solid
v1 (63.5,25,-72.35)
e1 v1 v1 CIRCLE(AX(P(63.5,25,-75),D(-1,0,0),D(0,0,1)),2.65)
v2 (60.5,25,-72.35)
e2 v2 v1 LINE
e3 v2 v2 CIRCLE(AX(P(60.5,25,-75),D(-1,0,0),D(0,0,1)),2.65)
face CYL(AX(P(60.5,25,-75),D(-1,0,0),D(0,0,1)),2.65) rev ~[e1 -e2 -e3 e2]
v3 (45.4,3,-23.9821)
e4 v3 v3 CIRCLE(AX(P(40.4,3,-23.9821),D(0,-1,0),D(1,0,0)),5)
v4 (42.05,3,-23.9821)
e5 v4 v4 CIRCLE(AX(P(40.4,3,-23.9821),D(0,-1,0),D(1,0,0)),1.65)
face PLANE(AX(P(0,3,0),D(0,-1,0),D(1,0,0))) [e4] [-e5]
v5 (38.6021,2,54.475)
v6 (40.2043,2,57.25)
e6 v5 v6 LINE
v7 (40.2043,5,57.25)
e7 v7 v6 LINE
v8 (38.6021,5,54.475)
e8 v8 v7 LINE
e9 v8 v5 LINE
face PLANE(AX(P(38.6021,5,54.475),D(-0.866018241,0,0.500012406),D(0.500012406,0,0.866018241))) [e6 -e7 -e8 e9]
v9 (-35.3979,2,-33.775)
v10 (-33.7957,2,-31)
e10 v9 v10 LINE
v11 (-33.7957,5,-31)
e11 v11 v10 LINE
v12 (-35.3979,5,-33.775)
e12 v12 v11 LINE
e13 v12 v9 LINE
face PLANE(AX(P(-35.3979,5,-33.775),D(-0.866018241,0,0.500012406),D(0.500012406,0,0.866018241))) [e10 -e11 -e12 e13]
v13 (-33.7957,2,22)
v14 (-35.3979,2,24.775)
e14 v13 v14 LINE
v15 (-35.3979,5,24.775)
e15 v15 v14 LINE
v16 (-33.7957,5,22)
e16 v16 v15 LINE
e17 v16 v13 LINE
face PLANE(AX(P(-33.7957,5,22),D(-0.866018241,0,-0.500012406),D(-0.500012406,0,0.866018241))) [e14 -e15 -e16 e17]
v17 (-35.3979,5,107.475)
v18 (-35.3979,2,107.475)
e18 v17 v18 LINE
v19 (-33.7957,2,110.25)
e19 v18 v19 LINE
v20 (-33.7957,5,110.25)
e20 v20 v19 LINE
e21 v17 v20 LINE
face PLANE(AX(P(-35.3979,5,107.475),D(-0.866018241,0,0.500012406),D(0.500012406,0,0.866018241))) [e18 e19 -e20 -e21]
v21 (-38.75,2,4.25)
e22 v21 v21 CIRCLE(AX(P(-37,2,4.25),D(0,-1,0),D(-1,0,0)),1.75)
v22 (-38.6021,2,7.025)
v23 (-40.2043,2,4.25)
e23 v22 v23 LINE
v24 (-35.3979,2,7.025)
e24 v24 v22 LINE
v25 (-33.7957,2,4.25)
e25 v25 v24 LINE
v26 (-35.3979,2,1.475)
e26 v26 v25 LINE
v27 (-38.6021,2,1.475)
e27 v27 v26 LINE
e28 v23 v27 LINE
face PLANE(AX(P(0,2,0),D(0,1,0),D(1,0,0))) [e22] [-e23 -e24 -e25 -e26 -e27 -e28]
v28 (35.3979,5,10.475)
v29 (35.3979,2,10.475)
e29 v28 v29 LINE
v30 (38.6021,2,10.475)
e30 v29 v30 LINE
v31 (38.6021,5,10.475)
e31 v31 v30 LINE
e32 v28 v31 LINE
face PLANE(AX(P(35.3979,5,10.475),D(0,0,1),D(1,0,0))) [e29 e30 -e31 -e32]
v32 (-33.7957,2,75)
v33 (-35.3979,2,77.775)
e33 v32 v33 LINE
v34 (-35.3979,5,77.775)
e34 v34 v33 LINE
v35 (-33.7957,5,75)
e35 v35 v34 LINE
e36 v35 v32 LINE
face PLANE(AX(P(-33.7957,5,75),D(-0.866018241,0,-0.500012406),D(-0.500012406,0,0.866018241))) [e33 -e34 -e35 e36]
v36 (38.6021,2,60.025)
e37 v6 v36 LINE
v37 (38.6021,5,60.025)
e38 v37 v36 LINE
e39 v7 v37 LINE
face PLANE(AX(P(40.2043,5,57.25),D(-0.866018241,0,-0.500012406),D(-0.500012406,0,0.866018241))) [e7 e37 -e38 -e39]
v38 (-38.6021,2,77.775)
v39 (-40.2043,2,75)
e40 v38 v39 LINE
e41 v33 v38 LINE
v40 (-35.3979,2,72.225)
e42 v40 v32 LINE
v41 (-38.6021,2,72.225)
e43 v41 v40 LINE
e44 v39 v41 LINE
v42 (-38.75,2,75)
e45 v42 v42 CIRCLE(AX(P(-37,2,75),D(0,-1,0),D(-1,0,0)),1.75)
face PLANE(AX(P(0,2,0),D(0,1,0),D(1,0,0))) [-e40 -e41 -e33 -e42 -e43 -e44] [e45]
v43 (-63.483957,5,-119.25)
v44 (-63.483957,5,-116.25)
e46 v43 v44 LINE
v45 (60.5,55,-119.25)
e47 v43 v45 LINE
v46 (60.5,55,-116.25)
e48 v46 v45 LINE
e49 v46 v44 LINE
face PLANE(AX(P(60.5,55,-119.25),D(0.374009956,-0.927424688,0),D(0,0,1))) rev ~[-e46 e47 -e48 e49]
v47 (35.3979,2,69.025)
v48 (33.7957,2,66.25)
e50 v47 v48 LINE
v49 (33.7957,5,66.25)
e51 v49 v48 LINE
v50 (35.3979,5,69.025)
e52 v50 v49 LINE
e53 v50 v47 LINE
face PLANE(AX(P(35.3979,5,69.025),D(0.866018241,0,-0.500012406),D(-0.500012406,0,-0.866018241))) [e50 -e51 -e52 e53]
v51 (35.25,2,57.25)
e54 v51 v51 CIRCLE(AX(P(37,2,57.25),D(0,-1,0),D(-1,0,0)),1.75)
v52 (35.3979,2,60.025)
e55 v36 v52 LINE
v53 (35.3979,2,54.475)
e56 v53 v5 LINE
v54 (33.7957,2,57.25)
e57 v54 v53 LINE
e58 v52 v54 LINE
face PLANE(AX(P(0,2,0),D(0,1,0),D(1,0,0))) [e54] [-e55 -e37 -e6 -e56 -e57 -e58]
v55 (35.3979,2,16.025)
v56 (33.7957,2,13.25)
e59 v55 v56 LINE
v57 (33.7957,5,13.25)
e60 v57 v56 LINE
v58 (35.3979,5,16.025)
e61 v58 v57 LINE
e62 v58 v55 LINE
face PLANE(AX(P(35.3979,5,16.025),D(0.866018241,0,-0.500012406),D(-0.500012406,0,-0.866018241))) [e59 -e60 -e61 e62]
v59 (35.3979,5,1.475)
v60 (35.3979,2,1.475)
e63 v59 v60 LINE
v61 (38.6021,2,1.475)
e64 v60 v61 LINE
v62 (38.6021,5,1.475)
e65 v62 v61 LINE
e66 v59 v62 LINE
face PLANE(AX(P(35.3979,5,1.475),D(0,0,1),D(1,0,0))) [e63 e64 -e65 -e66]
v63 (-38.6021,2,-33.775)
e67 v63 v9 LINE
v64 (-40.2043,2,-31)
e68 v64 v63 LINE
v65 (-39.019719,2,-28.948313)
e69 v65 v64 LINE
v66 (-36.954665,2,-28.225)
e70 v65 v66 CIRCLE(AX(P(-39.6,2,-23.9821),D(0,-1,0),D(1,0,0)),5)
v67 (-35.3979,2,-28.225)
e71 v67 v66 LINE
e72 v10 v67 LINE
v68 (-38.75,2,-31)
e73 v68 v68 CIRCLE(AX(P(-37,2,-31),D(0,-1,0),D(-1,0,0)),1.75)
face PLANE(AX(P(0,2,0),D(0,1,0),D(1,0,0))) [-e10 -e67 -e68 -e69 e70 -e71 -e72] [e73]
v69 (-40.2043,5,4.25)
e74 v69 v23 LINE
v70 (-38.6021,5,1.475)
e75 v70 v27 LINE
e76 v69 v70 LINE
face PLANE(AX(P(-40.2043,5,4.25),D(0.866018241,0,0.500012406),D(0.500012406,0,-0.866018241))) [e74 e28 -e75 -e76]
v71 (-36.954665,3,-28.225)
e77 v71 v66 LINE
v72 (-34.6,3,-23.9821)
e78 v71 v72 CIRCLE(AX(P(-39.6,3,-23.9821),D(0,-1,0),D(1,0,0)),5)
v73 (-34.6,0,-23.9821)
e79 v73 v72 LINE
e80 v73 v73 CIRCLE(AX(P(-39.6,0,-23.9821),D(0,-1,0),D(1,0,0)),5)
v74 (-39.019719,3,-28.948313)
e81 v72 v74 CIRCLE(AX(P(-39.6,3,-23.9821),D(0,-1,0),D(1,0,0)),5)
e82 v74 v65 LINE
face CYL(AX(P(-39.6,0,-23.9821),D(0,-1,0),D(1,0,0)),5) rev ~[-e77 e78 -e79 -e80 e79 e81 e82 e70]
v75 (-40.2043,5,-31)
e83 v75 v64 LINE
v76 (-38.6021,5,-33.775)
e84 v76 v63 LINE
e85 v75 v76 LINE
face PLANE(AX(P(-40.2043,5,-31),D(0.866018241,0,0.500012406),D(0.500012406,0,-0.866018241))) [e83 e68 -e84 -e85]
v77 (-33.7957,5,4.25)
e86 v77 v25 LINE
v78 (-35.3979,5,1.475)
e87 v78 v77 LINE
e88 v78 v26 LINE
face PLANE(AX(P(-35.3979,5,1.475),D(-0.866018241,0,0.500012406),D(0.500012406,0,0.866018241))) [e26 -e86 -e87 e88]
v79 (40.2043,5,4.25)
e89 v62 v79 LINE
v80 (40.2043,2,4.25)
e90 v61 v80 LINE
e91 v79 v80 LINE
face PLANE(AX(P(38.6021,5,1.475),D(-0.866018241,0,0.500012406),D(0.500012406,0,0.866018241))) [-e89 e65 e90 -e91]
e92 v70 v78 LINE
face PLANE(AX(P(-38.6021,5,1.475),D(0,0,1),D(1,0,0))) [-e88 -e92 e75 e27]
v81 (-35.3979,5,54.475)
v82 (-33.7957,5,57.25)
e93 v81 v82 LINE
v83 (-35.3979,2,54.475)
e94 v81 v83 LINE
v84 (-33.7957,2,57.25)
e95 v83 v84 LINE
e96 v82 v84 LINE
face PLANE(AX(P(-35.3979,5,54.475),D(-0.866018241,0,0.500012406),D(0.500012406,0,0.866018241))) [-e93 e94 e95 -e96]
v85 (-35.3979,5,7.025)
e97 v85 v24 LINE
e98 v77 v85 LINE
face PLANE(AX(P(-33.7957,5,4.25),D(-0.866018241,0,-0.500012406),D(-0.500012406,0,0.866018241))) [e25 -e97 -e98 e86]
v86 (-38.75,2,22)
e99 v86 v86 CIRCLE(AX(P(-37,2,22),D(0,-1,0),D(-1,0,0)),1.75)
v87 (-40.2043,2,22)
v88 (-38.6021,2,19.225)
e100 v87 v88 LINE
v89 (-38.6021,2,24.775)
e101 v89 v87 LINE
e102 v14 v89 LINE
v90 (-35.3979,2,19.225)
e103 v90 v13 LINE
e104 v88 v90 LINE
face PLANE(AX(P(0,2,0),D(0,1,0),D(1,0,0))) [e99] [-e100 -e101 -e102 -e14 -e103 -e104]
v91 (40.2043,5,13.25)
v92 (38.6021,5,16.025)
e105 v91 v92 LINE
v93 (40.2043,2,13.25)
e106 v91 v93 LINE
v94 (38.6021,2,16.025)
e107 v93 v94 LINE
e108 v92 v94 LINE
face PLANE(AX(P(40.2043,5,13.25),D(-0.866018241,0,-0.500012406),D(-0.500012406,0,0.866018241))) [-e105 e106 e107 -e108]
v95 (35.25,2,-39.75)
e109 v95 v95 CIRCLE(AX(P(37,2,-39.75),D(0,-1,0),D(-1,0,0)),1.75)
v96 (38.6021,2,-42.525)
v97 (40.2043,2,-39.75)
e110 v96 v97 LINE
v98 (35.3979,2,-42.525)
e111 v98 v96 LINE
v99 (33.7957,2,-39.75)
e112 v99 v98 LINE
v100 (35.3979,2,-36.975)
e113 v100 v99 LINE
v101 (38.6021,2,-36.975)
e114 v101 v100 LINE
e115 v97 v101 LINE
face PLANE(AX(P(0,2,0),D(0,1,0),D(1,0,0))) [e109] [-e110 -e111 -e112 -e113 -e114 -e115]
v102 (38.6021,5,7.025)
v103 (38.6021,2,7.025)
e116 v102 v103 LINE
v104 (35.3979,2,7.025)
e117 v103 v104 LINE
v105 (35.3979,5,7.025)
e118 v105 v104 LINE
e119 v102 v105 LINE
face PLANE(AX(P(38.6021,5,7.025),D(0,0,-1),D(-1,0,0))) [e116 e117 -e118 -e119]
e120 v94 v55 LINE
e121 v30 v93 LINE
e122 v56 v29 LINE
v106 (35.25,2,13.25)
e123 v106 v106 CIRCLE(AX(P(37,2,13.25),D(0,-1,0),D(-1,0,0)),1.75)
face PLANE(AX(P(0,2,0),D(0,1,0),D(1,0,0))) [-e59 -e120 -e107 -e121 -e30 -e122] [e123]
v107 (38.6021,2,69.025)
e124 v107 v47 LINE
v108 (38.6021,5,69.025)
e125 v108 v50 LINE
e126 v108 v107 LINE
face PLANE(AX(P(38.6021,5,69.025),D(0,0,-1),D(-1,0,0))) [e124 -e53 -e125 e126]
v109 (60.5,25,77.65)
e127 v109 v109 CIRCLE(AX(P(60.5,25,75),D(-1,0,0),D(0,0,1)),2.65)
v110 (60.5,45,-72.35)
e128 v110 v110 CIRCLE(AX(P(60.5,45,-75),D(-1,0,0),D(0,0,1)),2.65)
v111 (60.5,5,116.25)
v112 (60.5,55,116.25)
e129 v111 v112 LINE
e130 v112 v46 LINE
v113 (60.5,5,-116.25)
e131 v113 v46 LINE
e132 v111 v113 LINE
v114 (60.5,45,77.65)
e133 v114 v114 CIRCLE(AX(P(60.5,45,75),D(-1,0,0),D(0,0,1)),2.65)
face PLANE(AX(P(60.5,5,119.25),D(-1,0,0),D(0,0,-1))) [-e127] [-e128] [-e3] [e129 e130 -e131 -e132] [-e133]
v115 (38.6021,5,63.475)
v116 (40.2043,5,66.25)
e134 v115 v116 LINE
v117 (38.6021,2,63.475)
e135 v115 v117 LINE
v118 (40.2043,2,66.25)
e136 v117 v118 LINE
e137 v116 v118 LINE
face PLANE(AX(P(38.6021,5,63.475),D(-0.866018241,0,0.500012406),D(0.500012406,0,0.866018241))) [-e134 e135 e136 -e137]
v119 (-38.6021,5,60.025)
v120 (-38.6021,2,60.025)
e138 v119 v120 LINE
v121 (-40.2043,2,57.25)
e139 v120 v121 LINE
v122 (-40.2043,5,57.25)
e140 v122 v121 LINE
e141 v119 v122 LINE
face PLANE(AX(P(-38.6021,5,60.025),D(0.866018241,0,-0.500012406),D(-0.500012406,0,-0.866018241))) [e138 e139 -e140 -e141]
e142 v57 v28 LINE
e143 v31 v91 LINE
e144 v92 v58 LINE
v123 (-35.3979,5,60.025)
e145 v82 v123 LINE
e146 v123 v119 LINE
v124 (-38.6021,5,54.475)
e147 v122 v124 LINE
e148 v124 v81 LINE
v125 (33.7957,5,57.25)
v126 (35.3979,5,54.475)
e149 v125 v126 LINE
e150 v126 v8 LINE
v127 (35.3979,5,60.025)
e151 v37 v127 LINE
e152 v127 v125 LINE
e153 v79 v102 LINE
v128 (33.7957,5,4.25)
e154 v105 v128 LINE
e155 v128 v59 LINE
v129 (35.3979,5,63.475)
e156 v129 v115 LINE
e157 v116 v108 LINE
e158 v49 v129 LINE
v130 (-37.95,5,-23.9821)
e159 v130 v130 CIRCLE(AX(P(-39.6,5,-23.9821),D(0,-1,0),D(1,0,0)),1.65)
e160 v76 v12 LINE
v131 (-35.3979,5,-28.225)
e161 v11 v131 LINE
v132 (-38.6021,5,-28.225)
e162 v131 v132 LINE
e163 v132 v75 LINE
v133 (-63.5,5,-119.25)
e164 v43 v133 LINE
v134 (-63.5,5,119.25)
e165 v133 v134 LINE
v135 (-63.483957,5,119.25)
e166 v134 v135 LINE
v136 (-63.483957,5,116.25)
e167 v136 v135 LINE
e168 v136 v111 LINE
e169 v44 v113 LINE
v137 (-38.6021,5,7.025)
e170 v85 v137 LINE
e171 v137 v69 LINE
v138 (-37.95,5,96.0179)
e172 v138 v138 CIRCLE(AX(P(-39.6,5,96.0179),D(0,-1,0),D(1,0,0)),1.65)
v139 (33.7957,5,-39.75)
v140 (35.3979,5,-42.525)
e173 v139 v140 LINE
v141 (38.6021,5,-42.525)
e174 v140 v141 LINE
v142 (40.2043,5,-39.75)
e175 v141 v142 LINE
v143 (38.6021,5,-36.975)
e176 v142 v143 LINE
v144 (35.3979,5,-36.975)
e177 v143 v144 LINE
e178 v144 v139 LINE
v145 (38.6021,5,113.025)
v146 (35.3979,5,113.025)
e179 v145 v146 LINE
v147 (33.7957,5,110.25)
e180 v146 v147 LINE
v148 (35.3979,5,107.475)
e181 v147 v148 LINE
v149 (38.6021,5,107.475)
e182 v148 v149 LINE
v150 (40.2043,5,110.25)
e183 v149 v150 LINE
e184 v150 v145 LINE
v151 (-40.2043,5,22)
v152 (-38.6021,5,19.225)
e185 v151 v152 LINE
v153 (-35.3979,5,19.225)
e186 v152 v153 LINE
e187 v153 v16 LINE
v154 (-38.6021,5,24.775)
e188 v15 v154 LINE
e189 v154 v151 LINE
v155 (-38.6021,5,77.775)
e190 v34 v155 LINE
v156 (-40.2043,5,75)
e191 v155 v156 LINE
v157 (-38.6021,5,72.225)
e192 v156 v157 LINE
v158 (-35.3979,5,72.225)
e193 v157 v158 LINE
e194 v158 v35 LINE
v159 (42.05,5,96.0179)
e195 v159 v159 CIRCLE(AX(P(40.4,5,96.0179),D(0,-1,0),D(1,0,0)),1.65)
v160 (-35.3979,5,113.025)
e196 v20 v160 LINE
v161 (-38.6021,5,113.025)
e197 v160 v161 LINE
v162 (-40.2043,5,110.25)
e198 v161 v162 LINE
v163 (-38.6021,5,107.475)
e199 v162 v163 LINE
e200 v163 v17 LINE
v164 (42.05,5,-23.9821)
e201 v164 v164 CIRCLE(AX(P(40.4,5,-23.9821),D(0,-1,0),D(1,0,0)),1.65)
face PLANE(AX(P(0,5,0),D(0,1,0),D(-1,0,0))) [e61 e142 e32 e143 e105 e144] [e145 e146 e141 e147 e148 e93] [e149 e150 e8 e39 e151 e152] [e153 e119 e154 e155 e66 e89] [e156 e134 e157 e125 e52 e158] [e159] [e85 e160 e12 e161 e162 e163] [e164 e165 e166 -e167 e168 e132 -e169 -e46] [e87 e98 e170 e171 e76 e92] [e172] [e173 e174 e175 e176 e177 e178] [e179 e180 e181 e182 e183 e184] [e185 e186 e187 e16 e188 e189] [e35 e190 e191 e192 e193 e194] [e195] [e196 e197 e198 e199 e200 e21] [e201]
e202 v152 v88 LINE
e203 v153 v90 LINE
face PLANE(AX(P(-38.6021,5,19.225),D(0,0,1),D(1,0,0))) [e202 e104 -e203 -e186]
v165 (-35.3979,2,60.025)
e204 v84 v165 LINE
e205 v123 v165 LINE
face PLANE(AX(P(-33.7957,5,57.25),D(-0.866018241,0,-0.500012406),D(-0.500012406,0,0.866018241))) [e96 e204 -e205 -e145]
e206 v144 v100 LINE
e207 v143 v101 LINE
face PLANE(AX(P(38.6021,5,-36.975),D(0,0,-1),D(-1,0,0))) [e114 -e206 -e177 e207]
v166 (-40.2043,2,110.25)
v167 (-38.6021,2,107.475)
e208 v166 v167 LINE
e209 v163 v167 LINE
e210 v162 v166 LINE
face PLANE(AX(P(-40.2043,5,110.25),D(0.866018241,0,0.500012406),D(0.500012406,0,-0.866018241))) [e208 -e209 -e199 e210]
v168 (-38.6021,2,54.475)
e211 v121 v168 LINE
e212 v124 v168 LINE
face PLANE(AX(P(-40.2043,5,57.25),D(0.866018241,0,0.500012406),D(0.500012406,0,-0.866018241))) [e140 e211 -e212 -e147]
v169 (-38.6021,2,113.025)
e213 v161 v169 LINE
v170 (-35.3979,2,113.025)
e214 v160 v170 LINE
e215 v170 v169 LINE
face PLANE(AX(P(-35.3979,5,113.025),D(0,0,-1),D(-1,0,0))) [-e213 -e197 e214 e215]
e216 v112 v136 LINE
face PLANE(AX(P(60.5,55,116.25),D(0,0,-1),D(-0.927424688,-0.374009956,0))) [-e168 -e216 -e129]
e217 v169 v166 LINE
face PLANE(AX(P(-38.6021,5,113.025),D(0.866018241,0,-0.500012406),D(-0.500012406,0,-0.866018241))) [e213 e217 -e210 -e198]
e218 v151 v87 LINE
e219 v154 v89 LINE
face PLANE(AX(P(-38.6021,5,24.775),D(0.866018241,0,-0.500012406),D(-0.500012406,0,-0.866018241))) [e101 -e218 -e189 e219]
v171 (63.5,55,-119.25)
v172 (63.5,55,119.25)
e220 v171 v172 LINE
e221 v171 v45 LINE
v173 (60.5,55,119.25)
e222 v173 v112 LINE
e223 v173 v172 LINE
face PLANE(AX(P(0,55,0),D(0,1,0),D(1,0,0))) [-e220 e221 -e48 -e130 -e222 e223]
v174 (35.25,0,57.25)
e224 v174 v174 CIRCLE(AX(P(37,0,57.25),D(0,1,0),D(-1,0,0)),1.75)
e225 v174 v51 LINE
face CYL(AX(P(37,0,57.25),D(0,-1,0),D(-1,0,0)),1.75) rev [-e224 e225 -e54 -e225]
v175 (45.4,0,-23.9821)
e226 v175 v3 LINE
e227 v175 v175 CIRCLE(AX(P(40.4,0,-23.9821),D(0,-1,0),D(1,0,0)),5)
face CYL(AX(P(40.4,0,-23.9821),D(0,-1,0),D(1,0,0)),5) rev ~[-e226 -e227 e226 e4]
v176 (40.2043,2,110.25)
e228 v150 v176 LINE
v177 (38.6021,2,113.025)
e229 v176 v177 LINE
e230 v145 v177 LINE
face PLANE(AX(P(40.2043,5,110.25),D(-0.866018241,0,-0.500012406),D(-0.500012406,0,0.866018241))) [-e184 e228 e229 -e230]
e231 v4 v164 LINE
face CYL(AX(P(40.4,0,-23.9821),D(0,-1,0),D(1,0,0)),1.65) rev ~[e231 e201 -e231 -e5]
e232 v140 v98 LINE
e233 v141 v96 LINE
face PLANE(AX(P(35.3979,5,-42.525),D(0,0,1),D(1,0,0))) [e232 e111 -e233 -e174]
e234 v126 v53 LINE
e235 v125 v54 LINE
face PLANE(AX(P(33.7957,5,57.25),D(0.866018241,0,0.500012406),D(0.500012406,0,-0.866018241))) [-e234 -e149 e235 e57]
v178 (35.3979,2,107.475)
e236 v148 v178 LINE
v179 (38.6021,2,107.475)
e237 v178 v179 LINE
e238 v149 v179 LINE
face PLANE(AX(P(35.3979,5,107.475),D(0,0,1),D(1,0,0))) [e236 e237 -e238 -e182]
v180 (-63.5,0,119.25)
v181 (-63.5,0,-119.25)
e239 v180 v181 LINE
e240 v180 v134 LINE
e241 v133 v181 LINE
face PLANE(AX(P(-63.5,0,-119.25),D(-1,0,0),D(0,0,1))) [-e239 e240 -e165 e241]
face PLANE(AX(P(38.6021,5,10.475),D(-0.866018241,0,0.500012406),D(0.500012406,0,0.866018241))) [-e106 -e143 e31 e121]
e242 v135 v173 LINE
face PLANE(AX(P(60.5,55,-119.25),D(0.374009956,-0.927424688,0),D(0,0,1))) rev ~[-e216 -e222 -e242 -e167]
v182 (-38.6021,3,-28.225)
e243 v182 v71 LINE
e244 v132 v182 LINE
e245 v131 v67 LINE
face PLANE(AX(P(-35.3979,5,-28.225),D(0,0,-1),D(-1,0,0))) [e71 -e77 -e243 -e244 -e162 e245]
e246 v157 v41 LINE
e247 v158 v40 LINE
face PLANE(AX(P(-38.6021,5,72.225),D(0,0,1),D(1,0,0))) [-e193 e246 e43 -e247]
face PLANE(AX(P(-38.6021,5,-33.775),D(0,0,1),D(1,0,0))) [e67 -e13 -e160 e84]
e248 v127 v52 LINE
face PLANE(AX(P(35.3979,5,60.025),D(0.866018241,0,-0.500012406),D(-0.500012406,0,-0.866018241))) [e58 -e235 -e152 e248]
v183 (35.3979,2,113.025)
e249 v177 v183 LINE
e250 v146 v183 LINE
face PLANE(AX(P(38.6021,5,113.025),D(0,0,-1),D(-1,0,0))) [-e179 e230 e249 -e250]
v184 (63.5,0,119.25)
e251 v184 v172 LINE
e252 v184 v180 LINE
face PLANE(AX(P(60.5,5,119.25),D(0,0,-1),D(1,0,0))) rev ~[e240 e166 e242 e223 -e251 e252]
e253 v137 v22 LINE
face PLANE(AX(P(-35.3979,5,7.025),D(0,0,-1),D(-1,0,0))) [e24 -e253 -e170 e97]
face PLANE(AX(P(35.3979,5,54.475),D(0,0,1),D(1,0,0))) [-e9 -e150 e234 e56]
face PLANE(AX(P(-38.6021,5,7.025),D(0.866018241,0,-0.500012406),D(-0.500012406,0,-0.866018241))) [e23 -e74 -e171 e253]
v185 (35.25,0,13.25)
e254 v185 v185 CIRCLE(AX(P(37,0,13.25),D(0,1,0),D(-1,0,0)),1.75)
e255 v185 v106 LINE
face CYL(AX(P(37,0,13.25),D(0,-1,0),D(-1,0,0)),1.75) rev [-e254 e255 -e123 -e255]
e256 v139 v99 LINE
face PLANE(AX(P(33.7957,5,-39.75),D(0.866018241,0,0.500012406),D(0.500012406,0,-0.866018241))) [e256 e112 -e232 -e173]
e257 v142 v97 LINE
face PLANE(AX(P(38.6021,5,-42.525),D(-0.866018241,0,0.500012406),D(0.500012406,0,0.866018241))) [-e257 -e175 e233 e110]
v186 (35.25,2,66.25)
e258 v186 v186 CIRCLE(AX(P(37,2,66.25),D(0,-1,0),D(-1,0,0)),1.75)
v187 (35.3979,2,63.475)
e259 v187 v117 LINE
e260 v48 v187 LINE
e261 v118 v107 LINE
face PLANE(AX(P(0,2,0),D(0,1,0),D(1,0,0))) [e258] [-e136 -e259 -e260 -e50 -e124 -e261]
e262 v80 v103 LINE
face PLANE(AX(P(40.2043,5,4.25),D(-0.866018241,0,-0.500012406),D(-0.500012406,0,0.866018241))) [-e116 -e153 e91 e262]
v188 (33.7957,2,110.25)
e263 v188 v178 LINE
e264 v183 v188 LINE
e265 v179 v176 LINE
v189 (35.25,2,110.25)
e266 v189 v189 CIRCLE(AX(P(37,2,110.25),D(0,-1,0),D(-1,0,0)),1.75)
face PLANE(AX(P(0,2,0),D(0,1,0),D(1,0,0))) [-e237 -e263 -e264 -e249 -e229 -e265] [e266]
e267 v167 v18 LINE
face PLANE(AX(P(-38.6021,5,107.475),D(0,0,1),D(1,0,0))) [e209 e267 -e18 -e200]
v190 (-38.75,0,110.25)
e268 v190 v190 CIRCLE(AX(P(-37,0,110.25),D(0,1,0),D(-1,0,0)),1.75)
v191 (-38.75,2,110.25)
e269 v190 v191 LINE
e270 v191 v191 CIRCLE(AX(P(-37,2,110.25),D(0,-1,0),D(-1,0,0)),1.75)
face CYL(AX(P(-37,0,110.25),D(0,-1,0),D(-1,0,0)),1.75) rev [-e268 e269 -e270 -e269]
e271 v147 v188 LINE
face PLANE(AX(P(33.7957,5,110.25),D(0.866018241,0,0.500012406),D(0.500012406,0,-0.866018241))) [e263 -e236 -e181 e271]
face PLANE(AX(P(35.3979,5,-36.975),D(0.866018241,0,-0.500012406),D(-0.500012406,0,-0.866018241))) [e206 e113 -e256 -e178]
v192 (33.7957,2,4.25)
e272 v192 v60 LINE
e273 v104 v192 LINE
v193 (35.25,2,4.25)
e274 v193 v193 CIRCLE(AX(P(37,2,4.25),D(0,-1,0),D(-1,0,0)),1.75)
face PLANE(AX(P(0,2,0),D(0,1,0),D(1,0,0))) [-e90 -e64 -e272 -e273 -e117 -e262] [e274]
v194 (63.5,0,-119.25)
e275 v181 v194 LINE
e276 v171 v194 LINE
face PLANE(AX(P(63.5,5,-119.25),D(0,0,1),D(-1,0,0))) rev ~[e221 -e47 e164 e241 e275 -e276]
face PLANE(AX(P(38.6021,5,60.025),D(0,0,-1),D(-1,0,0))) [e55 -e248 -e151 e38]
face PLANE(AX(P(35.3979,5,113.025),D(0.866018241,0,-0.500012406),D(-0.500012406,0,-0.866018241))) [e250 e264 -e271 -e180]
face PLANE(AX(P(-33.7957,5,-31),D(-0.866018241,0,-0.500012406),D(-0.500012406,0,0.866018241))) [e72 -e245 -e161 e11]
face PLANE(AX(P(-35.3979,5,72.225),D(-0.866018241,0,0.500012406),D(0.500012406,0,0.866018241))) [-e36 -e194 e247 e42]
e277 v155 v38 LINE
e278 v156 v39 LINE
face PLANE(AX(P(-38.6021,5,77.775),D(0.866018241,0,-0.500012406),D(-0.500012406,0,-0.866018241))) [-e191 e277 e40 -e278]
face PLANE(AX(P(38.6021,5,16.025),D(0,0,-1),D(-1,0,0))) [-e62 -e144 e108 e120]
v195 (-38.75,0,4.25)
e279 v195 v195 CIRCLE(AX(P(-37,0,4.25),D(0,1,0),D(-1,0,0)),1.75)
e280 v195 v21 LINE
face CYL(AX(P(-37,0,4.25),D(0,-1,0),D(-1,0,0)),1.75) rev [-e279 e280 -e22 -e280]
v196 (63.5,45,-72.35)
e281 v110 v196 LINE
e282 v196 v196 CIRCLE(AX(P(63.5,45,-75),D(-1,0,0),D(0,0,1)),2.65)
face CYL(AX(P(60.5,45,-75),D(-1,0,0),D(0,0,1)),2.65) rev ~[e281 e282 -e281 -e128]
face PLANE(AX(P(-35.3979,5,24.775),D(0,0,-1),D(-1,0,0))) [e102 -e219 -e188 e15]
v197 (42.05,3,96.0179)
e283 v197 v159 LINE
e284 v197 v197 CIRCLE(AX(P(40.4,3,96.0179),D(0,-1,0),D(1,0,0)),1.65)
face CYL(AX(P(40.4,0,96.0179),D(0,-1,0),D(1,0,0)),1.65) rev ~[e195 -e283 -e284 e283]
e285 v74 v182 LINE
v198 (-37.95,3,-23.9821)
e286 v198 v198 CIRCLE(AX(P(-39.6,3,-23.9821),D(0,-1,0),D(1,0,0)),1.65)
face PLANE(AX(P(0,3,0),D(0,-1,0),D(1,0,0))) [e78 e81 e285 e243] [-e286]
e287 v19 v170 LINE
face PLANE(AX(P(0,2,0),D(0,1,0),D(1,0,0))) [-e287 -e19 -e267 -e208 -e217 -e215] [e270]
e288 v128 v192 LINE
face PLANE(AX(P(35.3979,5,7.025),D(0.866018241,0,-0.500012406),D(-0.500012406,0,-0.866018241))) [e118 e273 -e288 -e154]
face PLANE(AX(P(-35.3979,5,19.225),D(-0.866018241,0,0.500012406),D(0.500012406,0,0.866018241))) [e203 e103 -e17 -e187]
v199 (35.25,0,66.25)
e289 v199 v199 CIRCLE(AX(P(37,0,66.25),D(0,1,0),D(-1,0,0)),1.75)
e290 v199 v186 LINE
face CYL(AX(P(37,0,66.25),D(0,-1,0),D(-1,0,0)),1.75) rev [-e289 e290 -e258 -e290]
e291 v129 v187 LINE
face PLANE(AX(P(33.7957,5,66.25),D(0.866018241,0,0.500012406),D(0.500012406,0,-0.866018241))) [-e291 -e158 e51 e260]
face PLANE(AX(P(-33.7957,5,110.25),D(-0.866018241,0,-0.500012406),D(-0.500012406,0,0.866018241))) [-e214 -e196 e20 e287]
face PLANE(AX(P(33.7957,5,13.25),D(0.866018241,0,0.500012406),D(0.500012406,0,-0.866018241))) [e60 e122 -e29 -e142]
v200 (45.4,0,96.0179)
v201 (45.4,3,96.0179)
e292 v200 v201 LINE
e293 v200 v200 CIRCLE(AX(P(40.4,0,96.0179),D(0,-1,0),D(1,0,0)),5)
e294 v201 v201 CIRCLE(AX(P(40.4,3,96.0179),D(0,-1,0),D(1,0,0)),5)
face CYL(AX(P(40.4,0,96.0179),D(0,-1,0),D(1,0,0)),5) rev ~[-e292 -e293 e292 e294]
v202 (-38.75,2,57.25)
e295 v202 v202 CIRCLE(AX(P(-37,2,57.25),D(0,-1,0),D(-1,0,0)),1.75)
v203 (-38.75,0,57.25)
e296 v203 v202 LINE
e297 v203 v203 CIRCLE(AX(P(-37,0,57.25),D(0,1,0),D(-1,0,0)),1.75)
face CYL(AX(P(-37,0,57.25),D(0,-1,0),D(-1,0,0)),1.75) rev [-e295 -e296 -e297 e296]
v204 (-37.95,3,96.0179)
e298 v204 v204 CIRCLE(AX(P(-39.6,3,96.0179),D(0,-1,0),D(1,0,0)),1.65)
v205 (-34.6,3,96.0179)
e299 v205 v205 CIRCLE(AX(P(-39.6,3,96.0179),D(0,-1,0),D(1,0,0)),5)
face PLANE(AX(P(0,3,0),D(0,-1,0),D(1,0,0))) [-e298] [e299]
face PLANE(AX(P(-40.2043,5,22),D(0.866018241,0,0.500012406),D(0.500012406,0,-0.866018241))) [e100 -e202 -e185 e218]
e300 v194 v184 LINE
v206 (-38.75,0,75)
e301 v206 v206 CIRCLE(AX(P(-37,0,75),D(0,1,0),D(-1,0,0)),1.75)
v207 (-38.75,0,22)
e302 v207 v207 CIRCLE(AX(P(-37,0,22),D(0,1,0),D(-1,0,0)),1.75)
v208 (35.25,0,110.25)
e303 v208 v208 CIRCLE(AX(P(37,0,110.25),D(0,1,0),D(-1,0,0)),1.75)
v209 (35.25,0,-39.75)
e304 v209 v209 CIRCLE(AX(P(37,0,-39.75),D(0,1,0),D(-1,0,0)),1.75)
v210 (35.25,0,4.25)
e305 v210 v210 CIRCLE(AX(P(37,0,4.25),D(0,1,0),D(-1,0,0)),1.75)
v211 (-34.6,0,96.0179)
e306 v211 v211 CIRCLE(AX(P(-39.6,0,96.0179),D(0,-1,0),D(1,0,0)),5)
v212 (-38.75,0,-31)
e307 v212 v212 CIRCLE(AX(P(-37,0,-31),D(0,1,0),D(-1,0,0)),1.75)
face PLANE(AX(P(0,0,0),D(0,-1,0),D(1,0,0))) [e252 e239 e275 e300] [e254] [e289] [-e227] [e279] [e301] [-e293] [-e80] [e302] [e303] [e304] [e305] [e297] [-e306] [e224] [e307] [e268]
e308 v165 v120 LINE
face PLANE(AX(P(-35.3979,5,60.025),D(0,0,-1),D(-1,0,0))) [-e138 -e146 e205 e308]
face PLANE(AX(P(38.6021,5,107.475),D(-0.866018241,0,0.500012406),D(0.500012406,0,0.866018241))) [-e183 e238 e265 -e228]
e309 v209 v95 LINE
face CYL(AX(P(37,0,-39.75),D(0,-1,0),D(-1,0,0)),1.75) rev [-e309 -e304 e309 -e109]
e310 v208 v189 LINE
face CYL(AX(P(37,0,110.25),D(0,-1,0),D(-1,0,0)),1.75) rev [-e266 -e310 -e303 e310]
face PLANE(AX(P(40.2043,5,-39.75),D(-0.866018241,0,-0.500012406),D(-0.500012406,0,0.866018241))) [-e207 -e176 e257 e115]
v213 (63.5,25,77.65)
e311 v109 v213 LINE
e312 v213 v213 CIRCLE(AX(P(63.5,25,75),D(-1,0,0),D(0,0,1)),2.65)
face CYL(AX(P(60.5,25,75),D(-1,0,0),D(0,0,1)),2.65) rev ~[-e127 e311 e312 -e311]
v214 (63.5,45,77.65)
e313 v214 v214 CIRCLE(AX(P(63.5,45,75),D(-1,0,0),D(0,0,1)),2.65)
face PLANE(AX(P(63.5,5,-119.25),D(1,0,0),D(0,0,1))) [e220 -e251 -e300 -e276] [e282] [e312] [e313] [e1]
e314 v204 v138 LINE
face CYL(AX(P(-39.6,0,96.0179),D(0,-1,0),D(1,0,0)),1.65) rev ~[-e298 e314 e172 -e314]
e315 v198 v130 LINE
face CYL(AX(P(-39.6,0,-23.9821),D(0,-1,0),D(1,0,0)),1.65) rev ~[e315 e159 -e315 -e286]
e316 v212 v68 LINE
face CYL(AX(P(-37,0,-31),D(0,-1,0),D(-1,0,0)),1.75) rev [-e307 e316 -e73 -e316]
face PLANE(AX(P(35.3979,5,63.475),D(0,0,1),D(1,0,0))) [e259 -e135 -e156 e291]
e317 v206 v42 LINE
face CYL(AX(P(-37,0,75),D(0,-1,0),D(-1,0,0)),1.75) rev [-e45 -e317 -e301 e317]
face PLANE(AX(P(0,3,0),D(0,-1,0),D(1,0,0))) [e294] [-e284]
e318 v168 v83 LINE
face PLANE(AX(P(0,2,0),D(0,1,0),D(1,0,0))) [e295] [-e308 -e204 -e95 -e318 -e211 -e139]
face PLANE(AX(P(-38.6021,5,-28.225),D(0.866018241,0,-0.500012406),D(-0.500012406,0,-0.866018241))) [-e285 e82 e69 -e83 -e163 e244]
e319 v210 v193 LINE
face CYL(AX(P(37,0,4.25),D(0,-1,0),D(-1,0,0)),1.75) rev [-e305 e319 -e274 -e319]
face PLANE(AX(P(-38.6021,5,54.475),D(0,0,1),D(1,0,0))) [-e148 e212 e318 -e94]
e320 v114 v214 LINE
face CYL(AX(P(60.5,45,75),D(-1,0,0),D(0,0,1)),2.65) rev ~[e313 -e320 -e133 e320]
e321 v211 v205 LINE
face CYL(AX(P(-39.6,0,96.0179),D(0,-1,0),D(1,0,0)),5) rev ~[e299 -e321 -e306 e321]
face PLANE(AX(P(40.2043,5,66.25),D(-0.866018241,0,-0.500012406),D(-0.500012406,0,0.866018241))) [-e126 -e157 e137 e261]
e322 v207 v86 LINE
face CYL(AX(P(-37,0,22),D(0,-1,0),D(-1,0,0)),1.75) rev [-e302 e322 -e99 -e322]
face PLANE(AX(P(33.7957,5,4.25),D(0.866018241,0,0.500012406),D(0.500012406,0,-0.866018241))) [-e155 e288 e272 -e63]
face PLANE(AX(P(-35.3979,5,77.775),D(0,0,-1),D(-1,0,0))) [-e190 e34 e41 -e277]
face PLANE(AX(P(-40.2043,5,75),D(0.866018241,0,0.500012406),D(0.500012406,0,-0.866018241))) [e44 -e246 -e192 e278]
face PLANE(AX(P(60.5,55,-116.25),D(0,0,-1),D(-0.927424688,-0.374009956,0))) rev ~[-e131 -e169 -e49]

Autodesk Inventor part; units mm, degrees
ref_plane "YZ Plane" through (0, 0, 0) normal (1, 0, 0) x (0, 1, 0)
ref_plane "XZ Plane" through (0, 0, 0) normal (0, 1, 0) x (-1, 0, 0)
ref_plane "XY Plane" through (0, 0, 0) normal (0, 0, 1) x (1, 0, 0)
sketch "Sketch1" plane through (0, 0, 0) normal (0, 1, 0) x (-1, 0, 0)
  line L0 (60.5, -116.25) -> (-60.5, -116.25)
  line L1 (-60.5, -116.25) -> (-60.5, 116.25)
  line L2 (-60.5, 116.25) -> (60.5, 116.25)
  line L3 (60.5, 116.25) -> (60.5, -116.25)
  line L4 (60.5, -116.25) -> (-60.5, 116.25) construction
  line L5 (-60.5, -116.25) -> (60.5, 116.25) construction
  line L6 (-40, 10.25) -> (-40, 60.25)
  line L7 (40, 10.25) -> (-40, 10.25)
  line L8 (40, 60.25) -> (40, 10.25)
  line L9 (-40, 60.25) -> (40, 60.25)
  circle A0 centre (37, 22) radius 1.75
  circle A1 centre (-37, 13.25) radius 1.75
  circle A2 centre (37, 57.25) radius 1.75
  circle A3 centre (-37, 57.25) radius 1.75
  circle A4 centre (37, -31) radius 1.75
  line L10 (40, -42.75) -> (-40, -42.75)
  circle A5 centre (-37, -39.75) radius 1.75
  circle A6 centre (37, 4.25) radius 1.75
  line L11 (40, 7.25) -> (40, -42.75)
  line L12 (-40, 7.25) -> (40, 7.25)
  circle A7 centre (-37, 4.25) radius 1.75
  line L13 (-40, -42.75) -> (-40, 7.25)
  circle A8 centre (37, 75) radius 1.75
  line L14 (40, 63.25) -> (-40, 63.25)
  circle A9 centre (-37, 66.25) radius 1.75
  circle A10 centre (37, 110.25) radius 1.75
  line L15 (40, 113.25) -> (40, 63.25)
  line L16 (-40, 113.25) -> (40, 113.25)
  circle A11 centre (-37, 110.25) radius 1.75
  line L17 (-40, 63.25) -> (-40, 113.25)
  line L18 (57.5, -45.75) -> (-57.5, -45.75)
  line L19 (-57.5, -45.75) -> (-57.5, -113.25)
  line L20 (-57.5, -113.25) -> (57.5, -113.25)
  line L21 (57.5, -113.25) -> (57.5, -45.75)
  line L22 (57.5, -45.75) -> (-57.5, -113.25) construction
  line L23 (-57.5, -45.75) -> (57.5, -113.25) construction
  line L24 (0, 113.25) -> (0, 113.2503) construction
  line L25 (63.5, 119.25) -> (-63.5, 119.25)
  line L26 (-63.5, 119.25) -> (-63.5, -119.25)
  line L27 (-63.5, -119.25) -> (63.5, -119.25)
  line L28 (63.5, -119.25) -> (63.5, 119.25)
  point P0 (0, 0)
  point P1 (0, -79.5)
  point P2 (0, -42.75)
  dimension "d6" = 3
  dimension "d7" = 3
  dimension "d8" = 3
  dimension "d9" = 3
  dimension "d10" = 3
  dimension "d11" = 11.75
  dimension "d12" = 3
  dimension "d13" = 3
  dimension "d14" = 50
  dimension "d15" = 80
  dimension "d16" = 3
  dimension "d17" = 3
  dimension "d18" = 3
  dimension "d19" = 3
  dimension "d20" = 3
  dimension "d21" = 11.75
  dimension "d22" = 3
  dimension "d23" = 3
  dimension "d24" = 50
  dimension "d25" = 80
  dimension "d26" = 3
  dimension "d27" = 3
  dimension "d28" = 3
  dimension "d29" = 3
  dimension "d30" = 3
  dimension "d31" = 11.75
  dimension "d32" = 3
  dimension "d33" = 3
  dimension "d34" = 50
  dimension "d35" = 80
  dimension "d36" = 3
  dimension "d37" = 3
  dimension "d38" = 67.5
  dimension "d39" = 115
  dimension "d43" = 3
  dimension "d44" = 3
  dimension "d46" = 3.5
  dimension "d47" = 3
  dimension "d48" = 3
  dimension "d49" = 3
  dimension "d50" = 3
extrude "Extrusion1" add sketch "Sketch1" along normal blind 5 contours L0 L1 L2 L3 | L6 L9 L8 L7 | L10 L13 L12 L11 | L14 L17 L16 L15 | L21 L20 L19 L18 | L28 L27 L26 L25
extrude "Extrusion2" add sketch "Sketch1" against normal blind 5 contours L28 L27 L26 L25
sketch "Sketch2" plane through (0, 0, 0) normal (0, -1, 0) x (1, 0, 0)
  line L0 (-39.6, -23.9821) -> (40.4, -23.9821) construction
  line L1 (40.4, -23.9821) -> (40.4, 96.0179) construction
  line L2 (40.4, 96.0179) -> (-39.6, 96.0179) construction
  line L3 (-39.6, 96.0179) -> (-39.6, -23.9821) construction
  line L4 (-39.6, -23.9821) -> (40.4, 96.0179) construction
  line L5 (40.4, -23.9821) -> (-39.6, 96.0179) construction
  line L6 (-48.6, -83.9821) -> (48.6, -83.9821) construction
  line L7 (48.6, -83.9821) -> (48.6, 114.5179) construction
  line L8 (48.6, 114.5179) -> (-48.6, 114.5179) construction
  line L9 (-48.6, 114.5179) -> (-48.6, -83.9821) construction
  line L10 (-48.6, -83.9821) -> (48.6, 114.5179) construction
  line L11 (48.6, -83.9821) -> (-48.6, 114.5179) construction
  circle A0 centre (-39.6, 96.0179) radius 1.65
  circle A1 centre (40.4, 96.0179) radius 1.65
  circle A2 centre (40.4, -23.9821) radius 1.65
  circle A3 centre (-39.6, -23.9821) radius 1.65
  line L12 (60.5, -116.25) -> (-60.5, -116.25) projected
  line L13 (0, -116.25) -> (0, 15.2679)
  point P0 (0.4, 36.0179)
  point P1 (-39.6, 36.0179)
  dimension "d61" = 80
  dimension "d62" = 120
  dimension "d63" = 97.2
  dimension "d64" = 198.5
  dimension "d65" = 9
  dimension "d66" = 60
  dimension "d67" = 3.3
  dimension "d70" = 131.518
extrude "Extrusion3" cut sketch "Sketch2" against normal blind 5
sketch "Sketch3" plane through (0, 5, 0) normal (0, 1, 0) x (1, 0, 0)
  line L0 (-63.5, -119.25) -> (63.5, -119.25) projected
  line L1 (63.5, 119.25) -> (-63.5, 119.25) projected
  line L2 (63.5, -119.25) -> (60.5, -119.25)
  line L3 (60.5, -119.25) -> (60.5, 119.25)
  line L4 (60.5, 119.25) -> (63.5, 119.25)
  line L5 (63.5, 119.25) -> (63.5, -119.25)
  point P0 (0, 0)
  dimension "d73" = 3
extrude "Extrusion4" add sketch "Sketch3" along normal blind 50
ref_plane "Work Plane1" through (60.5, 55, -119.25) normal (0.374, -0.9274, 0) x (0, 0, 1)
sketch "Sketch4" plane through (60.5, 55, -119.25) normal (0.374, -0.9274, 0) x (0, 0, 1)
  line L0 (0, 0) -> (238.5, 0) projected
  line L1 (0, 133.7012) -> (238.5, 133.7012) projected
  line L2 (238.5, 0) -> (235.5, 0)
  line L3 (235.5, 0) -> (235.5, 133.7012)
  line L4 (235.5, 133.7012) -> (238.5, 133.7012)
  line L5 (238.5, 133.7012) -> (238.5, 0)
  line L6 (0, -2.7823) -> (0, 0) projected
  line L7 (0, 0) -> (3, 0)
  line L8 (3, 0) -> (3, 133.7012)
  line L9 (3, 133.7012) -> (0, 133.7012)
  line L10 (0, 133.7012) -> (0, 0)
  point P0 (119.25, 76.6785)
  point P1 (0, 133.7012)
  point P2 (238.5, 133.7012)
  point P3 (235.5, 0)
  dimension "d76" = 3
  dimension "d77" = 3
extrude "Extrusion5" add sketch "Sketch4" along normal up to next contours L10 L1 L8 L0 | L3 L1 L5 L0
sketch "Sketch5" plane through (0, -5, 0) normal (0, -1, 0) x (1, 0, 0)
  line L0 (60.5, -116.25) -> (-60.5, -116.25) projected
  line L1 (-60.5, -116.25) -> (-60.5, 116.25) projected
  line L2 (-60.5, 116.25) -> (60.5, 116.25) projected
  line L3 (60.5, 116.25) -> (60.5, -116.25) projected
  line L4 (-63.5, -119.25) -> (63.5, -119.25) projected
  line L5 (63.5, -119.25) -> (63.5, 119.25) projected
  line L6 (63.5, 119.25) -> (-63.5, 119.25) projected
  line L7 (-63.5, 119.25) -> (-63.5, -119.25) projected
  point P0 (0, 0)
extrude "Extrusion6" cut sketch "Sketch5" against normal up to surface (5 mm away) contours L0 L1 L2 L3 | L7 L6 L5 L4
sketch "Sketch6" plane through (60.5, 5, -116.25) normal (-1, 0, 0) x (0, 0, 1)
  line L0 (235.5, 50) -> (-3, 50) projected
  line L1 (116.25, 50) -> (116.25, 40)
  line L2 (116.25, 40) -> (116.25, 20)
  line L3 (191.25, 20) -> (41.25, 20) construction
  line L4 (191.25, 40) -> (41.25, 40) construction
  line L5 (0, 0) -> (232.5, 0) projected
  circle A0 centre (191.25, 20) radius 2.65
  circle A1 centre (191.25, 40) radius 2.65
  circle A2 centre (41.25, 40) radius 2.65
  circle A3 centre (41.25, 20) radius 2.65
  point P0 (116.25, -5)
  dimension "d82" = 5.3
  dimension "d83" = 20
  dimension "d84" = 10
  dimension "d85" = 150
extrude "Extrusion7" cut sketch "Sketch6" against normal through all
sketch "Sketch7" plane through (0, 0, 0) normal (0, -1, 0) x (1, 0, 0)
  line L0 (-63.5, 119.25) -> (63.5, 119.25) projected
  line L1 (-63.5, -119.25) -> (-63.5, 119.25) projected
  line L2 (63.5, -119.25) -> (-63.5, -119.25) projected
  line L3 (63.5, 119.25) -> (63.5, -119.25) projected
  circle A0 centre (40.4, 96.0179) radius 1.65 projected
  circle A1 centre (40.4, -23.9821) radius 1.65 projected
  circle A2 centre (-39.6, 96.0179) radius 1.65 projected
  circle A3 centre (-39.6, -23.9821) radius 1.65 projected
  circle A4 centre (-37, 22) radius 1.75 projected
  circle A5 centre (37, 13.25) radius 1.75 projected
  circle A6 centre (-37, 57.25) radius 1.75 projected
  circle A7 centre (37, 57.25) radius 1.75 projected
  circle A8 centre (-37, -31) radius 1.75 projected
  circle A9 centre (-37, 4.25) radius 1.75 projected
  circle A10 centre (37, -39.75) radius 1.75 projected
  circle A11 centre (37, 4.25) radius 1.75 projected
  circle A12 centre (37, 66.25) radius 1.75 projected
  circle A13 centre (-37, 75) radius 1.75 projected
  circle A14 centre (-37, 110.25) radius 1.75 projected
  circle A15 centre (37, 110.25) radius 1.75 projected
  circle A16 centre (40.4, 96.0179) radius 5
  circle A17 centre (-39.6, 96.0179) radius 5
  circle A18 centre (-39.6, -23.9821) radius 5
  circle A19 centre (40.4, -23.9821) radius 5
  point P0 (0, 0)
  dimension "d88" = 10
extrude "Extrusion8" cut sketch "Sketch7" against normal blind 3 contours A16 | A17 | A18 | A19
sketch "Sketch8" plane through (0, 5, 0) normal (0, 1, 0) x (1, 0, 0)
  circle A0 centre (40.4, -96.0179) radius 1.65 projected
  circle A1 centre (40.4, 23.9821) radius 1.65 projected
  circle A2 centre (-39.6, -96.0179) radius 1.65 projected
  circle A3 centre (-39.6, 23.9821) radius 1.65 projected
  circle A4 centre (-37, -22) radius 1.75 projected
  circle A5 centre (37, -13.25) radius 1.75 projected
  circle A6 centre (-37, -57.25) radius 1.75 projected
  circle A7 centre (37, -57.25) radius 1.75 projected
  circle A8 centre (-37, 31) radius 1.75 projected
  circle A9 centre (-37, -4.25) radius 1.75 projected
  circle A10 centre (37, 39.75) radius 1.75 projected
  circle A11 centre (37, -4.25) radius 1.75 projected
  circle A12 centre (37, -66.25) radius 1.75 projected
  circle A13 centre (-37, -75) radius 1.75 projected
  circle A14 centre (-37, -110.25) radius 1.75 projected
  circle A15 centre (37, -110.25) radius 1.75 projected
  line L0 (60.5, 116.25) -> (-63.5, 116.25) projected
  line L1 (-63.5, 116.25) -> (-63.5, -116.25) projected
  line L2 (-63.5, -116.25) -> (60.5, -116.25) projected
  line L3 (60.5, -116.25) -> (60.5, 116.25) projected
  line L4 (35.3979, 36.975) -> (33.7957, 39.75)
  line L5 (33.7957, 39.75) -> (35.3979, 42.525)
  line L6 (35.3979, 42.525) -> (38.6021, 42.525)
  line L7 (38.6021, 42.525) -> (40.2043, 39.75)
  line L8 (40.2043, 39.75) -> (38.6021, 36.975)
  line L9 (38.6021, 36.975) -> (35.3979, 36.975)
  line L10 (35.3979, -1.475) -> (38.6021, -1.475)
  line L11 (38.6021, -1.475) -> (40.2043, -4.25)
  line L12 (40.2043, -4.25) -> (38.6021, -7.025)
  line L13 (38.6021, -7.025) -> (35.3979, -7.025)
  line L14 (35.3979, -7.025) -> (33.7957, -4.25)
  line L15 (33.7957, -4.25) -> (35.3979, -1.475)
  line L16 (35.3979, -16.025) -> (33.7957, -13.25)
  line L17 (33.7957, -13.25) -> (35.3979, -10.475)
  line L18 (35.3979, -10.475) -> (38.6021, -10.475)
  line L19 (38.6021, -10.475) -> (40.2043, -13.25)
  line L20 (40.2043, -13.25) -> (38.6021, -16.025)
  line L21 (38.6021, -16.025) -> (35.3979, -16.025)
  line L22 (35.3979, -54.475) -> (38.6021, -54.475)
  line L23 (38.6021, -54.475) -> (40.2043, -57.25)
  line L24 (40.2043, -57.25) -> (38.6021, -60.025)
  line L25 (38.6021, -60.025) -> (35.3979, -60.025)
  line L26 (35.3979, -60.025) -> (33.7957, -57.25)
  line L27 (33.7957, -57.25) -> (35.3979, -54.475)
  line L28 (35.3979, -63.475) -> (38.6021, -63.475)
  line L29 (38.6021, -63.475) -> (40.2043, -66.25)
  line L30 (40.2043, -66.25) -> (38.6021, -69.025)
  line L31 (38.6021, -69.025) -> (35.3979, -69.025)
  line L32 (35.3979, -69.025) -> (33.7957, -66.25)
  line L33 (33.7957, -66.25) -> (35.3979, -63.475)
  line L34 (35.3979, -107.475) -> (38.6021, -107.475)
  line L35 (38.6021, -107.475) -> (40.2043, -110.25)
  line L36 (40.2043, -110.25) -> (38.6021, -113.025)
  line L37 (38.6021, -113.025) -> (35.3979, -113.025)
  line L38 (35.3979, -113.025) -> (33.7957, -110.25)
  line L39 (33.7957, -110.25) -> (35.3979, -107.475)
  line L40 (-38.6021, 33.775) -> (-35.3979, 33.775)
  line L41 (-35.3979, 33.775) -> (-33.7957, 31)
  line L42 (-33.7957, 31) -> (-35.3979, 28.225)
  line L43 (-35.3979, 28.225) -> (-38.6021, 28.225)
  line L44 (-38.6021, 28.225) -> (-40.2043, 31)
  line L45 (-40.2043, 31) -> (-38.6021, 33.775)
  line L46 (-38.6021, -1.475) -> (-35.3979, -1.475)
  line L47 (-35.3979, -1.475) -> (-33.7957, -4.25)
  line L48 (-33.7957, -4.25) -> (-35.3979, -7.025)
  line L49 (-35.3979, -7.025) -> (-38.6021, -7.025)
  line L50 (-38.6021, -7.025) -> (-40.2043, -4.25)
  line L51 (-40.2043, -4.25) -> (-38.6021, -1.475)
  line L52 (-38.6021, -19.225) -> (-35.3979, -19.225)
  line L53 (-35.3979, -19.225) -> (-33.7957, -22)
  line L54 (-33.7957, -22) -> (-35.3979, -24.775)
  line L55 (-35.3979, -24.775) -> (-38.6021, -24.775)
  line L56 (-38.6021, -24.775) -> (-40.2043, -22)
  line L57 (-40.2043, -22) -> (-38.6021, -19.225)
  line L58 (-38.6021, -54.475) -> (-35.3979, -54.475)
  line L59 (-35.3979, -54.475) -> (-33.7957, -57.25)
  line L60 (-33.7957, -57.25) -> (-35.3979, -60.025)
  line L61 (-35.3979, -60.025) -> (-38.6021, -60.025)
  line L62 (-38.6021, -60.025) -> (-40.2043, -57.25)
  line L63 (-40.2043, -57.25) -> (-38.6021, -54.475)
  line L64 (-40.2043, -75) -> (-38.6021, -72.225)
  line L65 (-38.6021, -72.225) -> (-35.3979, -72.225)
  line L66 (-35.3979, -72.225) -> (-33.7957, -75)
  line L67 (-33.7957, -75) -> (-35.3979, -77.775)
  line L68 (-35.3979, -77.775) -> (-38.6021, -77.775)
  line L69 (-38.6021, -77.775) -> (-40.2043, -75)
  line L70 (-38.6021, -107.475) -> (-35.3979, -107.475)
  line L71 (-35.3979, -107.475) -> (-33.7957, -110.25)
  line L72 (-33.7957, -110.25) -> (-35.3979, -113.025)
  line L73 (-35.3979, -113.025) -> (-38.6021, -113.025)
  line L74 (-38.6021, -113.025) -> (-40.2043, -110.25)
  line L75 (-40.2043, -110.25) -> (-38.6021, -107.475)
  point P0 (0, 0)
  dimension "d91" = 5.55
extrude "Extrusion9" cut sketch "Sketch8" against normal blind 3 contours A0 | A1 | A2 | A3 | A4 | A5 | A6 | A7 | A8 | A9 | A10 | A11 | A12 | A13 | A14 | A15 | L4 L5 L6 L7 L8 L9 | L10 L11 L12 L13 L14 L15 | L16 L17 L18 L19 L20 L21 | L22 L23 L24 L25 L26 L27 | L28 L29 L30 L31 L32 L33 | L34 L35 L36 L37 L38 L39 | L40 L41 L42 L43 L44 L45 | L46 L47 L48 L49 L50 L51 | L52 L53 L54 L55 L56 L57 | L58 L59 L60 L61 L62 L63 | L64 L65 L66 L67 L68 L69 | L70 L71 L72 L73 L74 L75
properties part number "Soporte"
